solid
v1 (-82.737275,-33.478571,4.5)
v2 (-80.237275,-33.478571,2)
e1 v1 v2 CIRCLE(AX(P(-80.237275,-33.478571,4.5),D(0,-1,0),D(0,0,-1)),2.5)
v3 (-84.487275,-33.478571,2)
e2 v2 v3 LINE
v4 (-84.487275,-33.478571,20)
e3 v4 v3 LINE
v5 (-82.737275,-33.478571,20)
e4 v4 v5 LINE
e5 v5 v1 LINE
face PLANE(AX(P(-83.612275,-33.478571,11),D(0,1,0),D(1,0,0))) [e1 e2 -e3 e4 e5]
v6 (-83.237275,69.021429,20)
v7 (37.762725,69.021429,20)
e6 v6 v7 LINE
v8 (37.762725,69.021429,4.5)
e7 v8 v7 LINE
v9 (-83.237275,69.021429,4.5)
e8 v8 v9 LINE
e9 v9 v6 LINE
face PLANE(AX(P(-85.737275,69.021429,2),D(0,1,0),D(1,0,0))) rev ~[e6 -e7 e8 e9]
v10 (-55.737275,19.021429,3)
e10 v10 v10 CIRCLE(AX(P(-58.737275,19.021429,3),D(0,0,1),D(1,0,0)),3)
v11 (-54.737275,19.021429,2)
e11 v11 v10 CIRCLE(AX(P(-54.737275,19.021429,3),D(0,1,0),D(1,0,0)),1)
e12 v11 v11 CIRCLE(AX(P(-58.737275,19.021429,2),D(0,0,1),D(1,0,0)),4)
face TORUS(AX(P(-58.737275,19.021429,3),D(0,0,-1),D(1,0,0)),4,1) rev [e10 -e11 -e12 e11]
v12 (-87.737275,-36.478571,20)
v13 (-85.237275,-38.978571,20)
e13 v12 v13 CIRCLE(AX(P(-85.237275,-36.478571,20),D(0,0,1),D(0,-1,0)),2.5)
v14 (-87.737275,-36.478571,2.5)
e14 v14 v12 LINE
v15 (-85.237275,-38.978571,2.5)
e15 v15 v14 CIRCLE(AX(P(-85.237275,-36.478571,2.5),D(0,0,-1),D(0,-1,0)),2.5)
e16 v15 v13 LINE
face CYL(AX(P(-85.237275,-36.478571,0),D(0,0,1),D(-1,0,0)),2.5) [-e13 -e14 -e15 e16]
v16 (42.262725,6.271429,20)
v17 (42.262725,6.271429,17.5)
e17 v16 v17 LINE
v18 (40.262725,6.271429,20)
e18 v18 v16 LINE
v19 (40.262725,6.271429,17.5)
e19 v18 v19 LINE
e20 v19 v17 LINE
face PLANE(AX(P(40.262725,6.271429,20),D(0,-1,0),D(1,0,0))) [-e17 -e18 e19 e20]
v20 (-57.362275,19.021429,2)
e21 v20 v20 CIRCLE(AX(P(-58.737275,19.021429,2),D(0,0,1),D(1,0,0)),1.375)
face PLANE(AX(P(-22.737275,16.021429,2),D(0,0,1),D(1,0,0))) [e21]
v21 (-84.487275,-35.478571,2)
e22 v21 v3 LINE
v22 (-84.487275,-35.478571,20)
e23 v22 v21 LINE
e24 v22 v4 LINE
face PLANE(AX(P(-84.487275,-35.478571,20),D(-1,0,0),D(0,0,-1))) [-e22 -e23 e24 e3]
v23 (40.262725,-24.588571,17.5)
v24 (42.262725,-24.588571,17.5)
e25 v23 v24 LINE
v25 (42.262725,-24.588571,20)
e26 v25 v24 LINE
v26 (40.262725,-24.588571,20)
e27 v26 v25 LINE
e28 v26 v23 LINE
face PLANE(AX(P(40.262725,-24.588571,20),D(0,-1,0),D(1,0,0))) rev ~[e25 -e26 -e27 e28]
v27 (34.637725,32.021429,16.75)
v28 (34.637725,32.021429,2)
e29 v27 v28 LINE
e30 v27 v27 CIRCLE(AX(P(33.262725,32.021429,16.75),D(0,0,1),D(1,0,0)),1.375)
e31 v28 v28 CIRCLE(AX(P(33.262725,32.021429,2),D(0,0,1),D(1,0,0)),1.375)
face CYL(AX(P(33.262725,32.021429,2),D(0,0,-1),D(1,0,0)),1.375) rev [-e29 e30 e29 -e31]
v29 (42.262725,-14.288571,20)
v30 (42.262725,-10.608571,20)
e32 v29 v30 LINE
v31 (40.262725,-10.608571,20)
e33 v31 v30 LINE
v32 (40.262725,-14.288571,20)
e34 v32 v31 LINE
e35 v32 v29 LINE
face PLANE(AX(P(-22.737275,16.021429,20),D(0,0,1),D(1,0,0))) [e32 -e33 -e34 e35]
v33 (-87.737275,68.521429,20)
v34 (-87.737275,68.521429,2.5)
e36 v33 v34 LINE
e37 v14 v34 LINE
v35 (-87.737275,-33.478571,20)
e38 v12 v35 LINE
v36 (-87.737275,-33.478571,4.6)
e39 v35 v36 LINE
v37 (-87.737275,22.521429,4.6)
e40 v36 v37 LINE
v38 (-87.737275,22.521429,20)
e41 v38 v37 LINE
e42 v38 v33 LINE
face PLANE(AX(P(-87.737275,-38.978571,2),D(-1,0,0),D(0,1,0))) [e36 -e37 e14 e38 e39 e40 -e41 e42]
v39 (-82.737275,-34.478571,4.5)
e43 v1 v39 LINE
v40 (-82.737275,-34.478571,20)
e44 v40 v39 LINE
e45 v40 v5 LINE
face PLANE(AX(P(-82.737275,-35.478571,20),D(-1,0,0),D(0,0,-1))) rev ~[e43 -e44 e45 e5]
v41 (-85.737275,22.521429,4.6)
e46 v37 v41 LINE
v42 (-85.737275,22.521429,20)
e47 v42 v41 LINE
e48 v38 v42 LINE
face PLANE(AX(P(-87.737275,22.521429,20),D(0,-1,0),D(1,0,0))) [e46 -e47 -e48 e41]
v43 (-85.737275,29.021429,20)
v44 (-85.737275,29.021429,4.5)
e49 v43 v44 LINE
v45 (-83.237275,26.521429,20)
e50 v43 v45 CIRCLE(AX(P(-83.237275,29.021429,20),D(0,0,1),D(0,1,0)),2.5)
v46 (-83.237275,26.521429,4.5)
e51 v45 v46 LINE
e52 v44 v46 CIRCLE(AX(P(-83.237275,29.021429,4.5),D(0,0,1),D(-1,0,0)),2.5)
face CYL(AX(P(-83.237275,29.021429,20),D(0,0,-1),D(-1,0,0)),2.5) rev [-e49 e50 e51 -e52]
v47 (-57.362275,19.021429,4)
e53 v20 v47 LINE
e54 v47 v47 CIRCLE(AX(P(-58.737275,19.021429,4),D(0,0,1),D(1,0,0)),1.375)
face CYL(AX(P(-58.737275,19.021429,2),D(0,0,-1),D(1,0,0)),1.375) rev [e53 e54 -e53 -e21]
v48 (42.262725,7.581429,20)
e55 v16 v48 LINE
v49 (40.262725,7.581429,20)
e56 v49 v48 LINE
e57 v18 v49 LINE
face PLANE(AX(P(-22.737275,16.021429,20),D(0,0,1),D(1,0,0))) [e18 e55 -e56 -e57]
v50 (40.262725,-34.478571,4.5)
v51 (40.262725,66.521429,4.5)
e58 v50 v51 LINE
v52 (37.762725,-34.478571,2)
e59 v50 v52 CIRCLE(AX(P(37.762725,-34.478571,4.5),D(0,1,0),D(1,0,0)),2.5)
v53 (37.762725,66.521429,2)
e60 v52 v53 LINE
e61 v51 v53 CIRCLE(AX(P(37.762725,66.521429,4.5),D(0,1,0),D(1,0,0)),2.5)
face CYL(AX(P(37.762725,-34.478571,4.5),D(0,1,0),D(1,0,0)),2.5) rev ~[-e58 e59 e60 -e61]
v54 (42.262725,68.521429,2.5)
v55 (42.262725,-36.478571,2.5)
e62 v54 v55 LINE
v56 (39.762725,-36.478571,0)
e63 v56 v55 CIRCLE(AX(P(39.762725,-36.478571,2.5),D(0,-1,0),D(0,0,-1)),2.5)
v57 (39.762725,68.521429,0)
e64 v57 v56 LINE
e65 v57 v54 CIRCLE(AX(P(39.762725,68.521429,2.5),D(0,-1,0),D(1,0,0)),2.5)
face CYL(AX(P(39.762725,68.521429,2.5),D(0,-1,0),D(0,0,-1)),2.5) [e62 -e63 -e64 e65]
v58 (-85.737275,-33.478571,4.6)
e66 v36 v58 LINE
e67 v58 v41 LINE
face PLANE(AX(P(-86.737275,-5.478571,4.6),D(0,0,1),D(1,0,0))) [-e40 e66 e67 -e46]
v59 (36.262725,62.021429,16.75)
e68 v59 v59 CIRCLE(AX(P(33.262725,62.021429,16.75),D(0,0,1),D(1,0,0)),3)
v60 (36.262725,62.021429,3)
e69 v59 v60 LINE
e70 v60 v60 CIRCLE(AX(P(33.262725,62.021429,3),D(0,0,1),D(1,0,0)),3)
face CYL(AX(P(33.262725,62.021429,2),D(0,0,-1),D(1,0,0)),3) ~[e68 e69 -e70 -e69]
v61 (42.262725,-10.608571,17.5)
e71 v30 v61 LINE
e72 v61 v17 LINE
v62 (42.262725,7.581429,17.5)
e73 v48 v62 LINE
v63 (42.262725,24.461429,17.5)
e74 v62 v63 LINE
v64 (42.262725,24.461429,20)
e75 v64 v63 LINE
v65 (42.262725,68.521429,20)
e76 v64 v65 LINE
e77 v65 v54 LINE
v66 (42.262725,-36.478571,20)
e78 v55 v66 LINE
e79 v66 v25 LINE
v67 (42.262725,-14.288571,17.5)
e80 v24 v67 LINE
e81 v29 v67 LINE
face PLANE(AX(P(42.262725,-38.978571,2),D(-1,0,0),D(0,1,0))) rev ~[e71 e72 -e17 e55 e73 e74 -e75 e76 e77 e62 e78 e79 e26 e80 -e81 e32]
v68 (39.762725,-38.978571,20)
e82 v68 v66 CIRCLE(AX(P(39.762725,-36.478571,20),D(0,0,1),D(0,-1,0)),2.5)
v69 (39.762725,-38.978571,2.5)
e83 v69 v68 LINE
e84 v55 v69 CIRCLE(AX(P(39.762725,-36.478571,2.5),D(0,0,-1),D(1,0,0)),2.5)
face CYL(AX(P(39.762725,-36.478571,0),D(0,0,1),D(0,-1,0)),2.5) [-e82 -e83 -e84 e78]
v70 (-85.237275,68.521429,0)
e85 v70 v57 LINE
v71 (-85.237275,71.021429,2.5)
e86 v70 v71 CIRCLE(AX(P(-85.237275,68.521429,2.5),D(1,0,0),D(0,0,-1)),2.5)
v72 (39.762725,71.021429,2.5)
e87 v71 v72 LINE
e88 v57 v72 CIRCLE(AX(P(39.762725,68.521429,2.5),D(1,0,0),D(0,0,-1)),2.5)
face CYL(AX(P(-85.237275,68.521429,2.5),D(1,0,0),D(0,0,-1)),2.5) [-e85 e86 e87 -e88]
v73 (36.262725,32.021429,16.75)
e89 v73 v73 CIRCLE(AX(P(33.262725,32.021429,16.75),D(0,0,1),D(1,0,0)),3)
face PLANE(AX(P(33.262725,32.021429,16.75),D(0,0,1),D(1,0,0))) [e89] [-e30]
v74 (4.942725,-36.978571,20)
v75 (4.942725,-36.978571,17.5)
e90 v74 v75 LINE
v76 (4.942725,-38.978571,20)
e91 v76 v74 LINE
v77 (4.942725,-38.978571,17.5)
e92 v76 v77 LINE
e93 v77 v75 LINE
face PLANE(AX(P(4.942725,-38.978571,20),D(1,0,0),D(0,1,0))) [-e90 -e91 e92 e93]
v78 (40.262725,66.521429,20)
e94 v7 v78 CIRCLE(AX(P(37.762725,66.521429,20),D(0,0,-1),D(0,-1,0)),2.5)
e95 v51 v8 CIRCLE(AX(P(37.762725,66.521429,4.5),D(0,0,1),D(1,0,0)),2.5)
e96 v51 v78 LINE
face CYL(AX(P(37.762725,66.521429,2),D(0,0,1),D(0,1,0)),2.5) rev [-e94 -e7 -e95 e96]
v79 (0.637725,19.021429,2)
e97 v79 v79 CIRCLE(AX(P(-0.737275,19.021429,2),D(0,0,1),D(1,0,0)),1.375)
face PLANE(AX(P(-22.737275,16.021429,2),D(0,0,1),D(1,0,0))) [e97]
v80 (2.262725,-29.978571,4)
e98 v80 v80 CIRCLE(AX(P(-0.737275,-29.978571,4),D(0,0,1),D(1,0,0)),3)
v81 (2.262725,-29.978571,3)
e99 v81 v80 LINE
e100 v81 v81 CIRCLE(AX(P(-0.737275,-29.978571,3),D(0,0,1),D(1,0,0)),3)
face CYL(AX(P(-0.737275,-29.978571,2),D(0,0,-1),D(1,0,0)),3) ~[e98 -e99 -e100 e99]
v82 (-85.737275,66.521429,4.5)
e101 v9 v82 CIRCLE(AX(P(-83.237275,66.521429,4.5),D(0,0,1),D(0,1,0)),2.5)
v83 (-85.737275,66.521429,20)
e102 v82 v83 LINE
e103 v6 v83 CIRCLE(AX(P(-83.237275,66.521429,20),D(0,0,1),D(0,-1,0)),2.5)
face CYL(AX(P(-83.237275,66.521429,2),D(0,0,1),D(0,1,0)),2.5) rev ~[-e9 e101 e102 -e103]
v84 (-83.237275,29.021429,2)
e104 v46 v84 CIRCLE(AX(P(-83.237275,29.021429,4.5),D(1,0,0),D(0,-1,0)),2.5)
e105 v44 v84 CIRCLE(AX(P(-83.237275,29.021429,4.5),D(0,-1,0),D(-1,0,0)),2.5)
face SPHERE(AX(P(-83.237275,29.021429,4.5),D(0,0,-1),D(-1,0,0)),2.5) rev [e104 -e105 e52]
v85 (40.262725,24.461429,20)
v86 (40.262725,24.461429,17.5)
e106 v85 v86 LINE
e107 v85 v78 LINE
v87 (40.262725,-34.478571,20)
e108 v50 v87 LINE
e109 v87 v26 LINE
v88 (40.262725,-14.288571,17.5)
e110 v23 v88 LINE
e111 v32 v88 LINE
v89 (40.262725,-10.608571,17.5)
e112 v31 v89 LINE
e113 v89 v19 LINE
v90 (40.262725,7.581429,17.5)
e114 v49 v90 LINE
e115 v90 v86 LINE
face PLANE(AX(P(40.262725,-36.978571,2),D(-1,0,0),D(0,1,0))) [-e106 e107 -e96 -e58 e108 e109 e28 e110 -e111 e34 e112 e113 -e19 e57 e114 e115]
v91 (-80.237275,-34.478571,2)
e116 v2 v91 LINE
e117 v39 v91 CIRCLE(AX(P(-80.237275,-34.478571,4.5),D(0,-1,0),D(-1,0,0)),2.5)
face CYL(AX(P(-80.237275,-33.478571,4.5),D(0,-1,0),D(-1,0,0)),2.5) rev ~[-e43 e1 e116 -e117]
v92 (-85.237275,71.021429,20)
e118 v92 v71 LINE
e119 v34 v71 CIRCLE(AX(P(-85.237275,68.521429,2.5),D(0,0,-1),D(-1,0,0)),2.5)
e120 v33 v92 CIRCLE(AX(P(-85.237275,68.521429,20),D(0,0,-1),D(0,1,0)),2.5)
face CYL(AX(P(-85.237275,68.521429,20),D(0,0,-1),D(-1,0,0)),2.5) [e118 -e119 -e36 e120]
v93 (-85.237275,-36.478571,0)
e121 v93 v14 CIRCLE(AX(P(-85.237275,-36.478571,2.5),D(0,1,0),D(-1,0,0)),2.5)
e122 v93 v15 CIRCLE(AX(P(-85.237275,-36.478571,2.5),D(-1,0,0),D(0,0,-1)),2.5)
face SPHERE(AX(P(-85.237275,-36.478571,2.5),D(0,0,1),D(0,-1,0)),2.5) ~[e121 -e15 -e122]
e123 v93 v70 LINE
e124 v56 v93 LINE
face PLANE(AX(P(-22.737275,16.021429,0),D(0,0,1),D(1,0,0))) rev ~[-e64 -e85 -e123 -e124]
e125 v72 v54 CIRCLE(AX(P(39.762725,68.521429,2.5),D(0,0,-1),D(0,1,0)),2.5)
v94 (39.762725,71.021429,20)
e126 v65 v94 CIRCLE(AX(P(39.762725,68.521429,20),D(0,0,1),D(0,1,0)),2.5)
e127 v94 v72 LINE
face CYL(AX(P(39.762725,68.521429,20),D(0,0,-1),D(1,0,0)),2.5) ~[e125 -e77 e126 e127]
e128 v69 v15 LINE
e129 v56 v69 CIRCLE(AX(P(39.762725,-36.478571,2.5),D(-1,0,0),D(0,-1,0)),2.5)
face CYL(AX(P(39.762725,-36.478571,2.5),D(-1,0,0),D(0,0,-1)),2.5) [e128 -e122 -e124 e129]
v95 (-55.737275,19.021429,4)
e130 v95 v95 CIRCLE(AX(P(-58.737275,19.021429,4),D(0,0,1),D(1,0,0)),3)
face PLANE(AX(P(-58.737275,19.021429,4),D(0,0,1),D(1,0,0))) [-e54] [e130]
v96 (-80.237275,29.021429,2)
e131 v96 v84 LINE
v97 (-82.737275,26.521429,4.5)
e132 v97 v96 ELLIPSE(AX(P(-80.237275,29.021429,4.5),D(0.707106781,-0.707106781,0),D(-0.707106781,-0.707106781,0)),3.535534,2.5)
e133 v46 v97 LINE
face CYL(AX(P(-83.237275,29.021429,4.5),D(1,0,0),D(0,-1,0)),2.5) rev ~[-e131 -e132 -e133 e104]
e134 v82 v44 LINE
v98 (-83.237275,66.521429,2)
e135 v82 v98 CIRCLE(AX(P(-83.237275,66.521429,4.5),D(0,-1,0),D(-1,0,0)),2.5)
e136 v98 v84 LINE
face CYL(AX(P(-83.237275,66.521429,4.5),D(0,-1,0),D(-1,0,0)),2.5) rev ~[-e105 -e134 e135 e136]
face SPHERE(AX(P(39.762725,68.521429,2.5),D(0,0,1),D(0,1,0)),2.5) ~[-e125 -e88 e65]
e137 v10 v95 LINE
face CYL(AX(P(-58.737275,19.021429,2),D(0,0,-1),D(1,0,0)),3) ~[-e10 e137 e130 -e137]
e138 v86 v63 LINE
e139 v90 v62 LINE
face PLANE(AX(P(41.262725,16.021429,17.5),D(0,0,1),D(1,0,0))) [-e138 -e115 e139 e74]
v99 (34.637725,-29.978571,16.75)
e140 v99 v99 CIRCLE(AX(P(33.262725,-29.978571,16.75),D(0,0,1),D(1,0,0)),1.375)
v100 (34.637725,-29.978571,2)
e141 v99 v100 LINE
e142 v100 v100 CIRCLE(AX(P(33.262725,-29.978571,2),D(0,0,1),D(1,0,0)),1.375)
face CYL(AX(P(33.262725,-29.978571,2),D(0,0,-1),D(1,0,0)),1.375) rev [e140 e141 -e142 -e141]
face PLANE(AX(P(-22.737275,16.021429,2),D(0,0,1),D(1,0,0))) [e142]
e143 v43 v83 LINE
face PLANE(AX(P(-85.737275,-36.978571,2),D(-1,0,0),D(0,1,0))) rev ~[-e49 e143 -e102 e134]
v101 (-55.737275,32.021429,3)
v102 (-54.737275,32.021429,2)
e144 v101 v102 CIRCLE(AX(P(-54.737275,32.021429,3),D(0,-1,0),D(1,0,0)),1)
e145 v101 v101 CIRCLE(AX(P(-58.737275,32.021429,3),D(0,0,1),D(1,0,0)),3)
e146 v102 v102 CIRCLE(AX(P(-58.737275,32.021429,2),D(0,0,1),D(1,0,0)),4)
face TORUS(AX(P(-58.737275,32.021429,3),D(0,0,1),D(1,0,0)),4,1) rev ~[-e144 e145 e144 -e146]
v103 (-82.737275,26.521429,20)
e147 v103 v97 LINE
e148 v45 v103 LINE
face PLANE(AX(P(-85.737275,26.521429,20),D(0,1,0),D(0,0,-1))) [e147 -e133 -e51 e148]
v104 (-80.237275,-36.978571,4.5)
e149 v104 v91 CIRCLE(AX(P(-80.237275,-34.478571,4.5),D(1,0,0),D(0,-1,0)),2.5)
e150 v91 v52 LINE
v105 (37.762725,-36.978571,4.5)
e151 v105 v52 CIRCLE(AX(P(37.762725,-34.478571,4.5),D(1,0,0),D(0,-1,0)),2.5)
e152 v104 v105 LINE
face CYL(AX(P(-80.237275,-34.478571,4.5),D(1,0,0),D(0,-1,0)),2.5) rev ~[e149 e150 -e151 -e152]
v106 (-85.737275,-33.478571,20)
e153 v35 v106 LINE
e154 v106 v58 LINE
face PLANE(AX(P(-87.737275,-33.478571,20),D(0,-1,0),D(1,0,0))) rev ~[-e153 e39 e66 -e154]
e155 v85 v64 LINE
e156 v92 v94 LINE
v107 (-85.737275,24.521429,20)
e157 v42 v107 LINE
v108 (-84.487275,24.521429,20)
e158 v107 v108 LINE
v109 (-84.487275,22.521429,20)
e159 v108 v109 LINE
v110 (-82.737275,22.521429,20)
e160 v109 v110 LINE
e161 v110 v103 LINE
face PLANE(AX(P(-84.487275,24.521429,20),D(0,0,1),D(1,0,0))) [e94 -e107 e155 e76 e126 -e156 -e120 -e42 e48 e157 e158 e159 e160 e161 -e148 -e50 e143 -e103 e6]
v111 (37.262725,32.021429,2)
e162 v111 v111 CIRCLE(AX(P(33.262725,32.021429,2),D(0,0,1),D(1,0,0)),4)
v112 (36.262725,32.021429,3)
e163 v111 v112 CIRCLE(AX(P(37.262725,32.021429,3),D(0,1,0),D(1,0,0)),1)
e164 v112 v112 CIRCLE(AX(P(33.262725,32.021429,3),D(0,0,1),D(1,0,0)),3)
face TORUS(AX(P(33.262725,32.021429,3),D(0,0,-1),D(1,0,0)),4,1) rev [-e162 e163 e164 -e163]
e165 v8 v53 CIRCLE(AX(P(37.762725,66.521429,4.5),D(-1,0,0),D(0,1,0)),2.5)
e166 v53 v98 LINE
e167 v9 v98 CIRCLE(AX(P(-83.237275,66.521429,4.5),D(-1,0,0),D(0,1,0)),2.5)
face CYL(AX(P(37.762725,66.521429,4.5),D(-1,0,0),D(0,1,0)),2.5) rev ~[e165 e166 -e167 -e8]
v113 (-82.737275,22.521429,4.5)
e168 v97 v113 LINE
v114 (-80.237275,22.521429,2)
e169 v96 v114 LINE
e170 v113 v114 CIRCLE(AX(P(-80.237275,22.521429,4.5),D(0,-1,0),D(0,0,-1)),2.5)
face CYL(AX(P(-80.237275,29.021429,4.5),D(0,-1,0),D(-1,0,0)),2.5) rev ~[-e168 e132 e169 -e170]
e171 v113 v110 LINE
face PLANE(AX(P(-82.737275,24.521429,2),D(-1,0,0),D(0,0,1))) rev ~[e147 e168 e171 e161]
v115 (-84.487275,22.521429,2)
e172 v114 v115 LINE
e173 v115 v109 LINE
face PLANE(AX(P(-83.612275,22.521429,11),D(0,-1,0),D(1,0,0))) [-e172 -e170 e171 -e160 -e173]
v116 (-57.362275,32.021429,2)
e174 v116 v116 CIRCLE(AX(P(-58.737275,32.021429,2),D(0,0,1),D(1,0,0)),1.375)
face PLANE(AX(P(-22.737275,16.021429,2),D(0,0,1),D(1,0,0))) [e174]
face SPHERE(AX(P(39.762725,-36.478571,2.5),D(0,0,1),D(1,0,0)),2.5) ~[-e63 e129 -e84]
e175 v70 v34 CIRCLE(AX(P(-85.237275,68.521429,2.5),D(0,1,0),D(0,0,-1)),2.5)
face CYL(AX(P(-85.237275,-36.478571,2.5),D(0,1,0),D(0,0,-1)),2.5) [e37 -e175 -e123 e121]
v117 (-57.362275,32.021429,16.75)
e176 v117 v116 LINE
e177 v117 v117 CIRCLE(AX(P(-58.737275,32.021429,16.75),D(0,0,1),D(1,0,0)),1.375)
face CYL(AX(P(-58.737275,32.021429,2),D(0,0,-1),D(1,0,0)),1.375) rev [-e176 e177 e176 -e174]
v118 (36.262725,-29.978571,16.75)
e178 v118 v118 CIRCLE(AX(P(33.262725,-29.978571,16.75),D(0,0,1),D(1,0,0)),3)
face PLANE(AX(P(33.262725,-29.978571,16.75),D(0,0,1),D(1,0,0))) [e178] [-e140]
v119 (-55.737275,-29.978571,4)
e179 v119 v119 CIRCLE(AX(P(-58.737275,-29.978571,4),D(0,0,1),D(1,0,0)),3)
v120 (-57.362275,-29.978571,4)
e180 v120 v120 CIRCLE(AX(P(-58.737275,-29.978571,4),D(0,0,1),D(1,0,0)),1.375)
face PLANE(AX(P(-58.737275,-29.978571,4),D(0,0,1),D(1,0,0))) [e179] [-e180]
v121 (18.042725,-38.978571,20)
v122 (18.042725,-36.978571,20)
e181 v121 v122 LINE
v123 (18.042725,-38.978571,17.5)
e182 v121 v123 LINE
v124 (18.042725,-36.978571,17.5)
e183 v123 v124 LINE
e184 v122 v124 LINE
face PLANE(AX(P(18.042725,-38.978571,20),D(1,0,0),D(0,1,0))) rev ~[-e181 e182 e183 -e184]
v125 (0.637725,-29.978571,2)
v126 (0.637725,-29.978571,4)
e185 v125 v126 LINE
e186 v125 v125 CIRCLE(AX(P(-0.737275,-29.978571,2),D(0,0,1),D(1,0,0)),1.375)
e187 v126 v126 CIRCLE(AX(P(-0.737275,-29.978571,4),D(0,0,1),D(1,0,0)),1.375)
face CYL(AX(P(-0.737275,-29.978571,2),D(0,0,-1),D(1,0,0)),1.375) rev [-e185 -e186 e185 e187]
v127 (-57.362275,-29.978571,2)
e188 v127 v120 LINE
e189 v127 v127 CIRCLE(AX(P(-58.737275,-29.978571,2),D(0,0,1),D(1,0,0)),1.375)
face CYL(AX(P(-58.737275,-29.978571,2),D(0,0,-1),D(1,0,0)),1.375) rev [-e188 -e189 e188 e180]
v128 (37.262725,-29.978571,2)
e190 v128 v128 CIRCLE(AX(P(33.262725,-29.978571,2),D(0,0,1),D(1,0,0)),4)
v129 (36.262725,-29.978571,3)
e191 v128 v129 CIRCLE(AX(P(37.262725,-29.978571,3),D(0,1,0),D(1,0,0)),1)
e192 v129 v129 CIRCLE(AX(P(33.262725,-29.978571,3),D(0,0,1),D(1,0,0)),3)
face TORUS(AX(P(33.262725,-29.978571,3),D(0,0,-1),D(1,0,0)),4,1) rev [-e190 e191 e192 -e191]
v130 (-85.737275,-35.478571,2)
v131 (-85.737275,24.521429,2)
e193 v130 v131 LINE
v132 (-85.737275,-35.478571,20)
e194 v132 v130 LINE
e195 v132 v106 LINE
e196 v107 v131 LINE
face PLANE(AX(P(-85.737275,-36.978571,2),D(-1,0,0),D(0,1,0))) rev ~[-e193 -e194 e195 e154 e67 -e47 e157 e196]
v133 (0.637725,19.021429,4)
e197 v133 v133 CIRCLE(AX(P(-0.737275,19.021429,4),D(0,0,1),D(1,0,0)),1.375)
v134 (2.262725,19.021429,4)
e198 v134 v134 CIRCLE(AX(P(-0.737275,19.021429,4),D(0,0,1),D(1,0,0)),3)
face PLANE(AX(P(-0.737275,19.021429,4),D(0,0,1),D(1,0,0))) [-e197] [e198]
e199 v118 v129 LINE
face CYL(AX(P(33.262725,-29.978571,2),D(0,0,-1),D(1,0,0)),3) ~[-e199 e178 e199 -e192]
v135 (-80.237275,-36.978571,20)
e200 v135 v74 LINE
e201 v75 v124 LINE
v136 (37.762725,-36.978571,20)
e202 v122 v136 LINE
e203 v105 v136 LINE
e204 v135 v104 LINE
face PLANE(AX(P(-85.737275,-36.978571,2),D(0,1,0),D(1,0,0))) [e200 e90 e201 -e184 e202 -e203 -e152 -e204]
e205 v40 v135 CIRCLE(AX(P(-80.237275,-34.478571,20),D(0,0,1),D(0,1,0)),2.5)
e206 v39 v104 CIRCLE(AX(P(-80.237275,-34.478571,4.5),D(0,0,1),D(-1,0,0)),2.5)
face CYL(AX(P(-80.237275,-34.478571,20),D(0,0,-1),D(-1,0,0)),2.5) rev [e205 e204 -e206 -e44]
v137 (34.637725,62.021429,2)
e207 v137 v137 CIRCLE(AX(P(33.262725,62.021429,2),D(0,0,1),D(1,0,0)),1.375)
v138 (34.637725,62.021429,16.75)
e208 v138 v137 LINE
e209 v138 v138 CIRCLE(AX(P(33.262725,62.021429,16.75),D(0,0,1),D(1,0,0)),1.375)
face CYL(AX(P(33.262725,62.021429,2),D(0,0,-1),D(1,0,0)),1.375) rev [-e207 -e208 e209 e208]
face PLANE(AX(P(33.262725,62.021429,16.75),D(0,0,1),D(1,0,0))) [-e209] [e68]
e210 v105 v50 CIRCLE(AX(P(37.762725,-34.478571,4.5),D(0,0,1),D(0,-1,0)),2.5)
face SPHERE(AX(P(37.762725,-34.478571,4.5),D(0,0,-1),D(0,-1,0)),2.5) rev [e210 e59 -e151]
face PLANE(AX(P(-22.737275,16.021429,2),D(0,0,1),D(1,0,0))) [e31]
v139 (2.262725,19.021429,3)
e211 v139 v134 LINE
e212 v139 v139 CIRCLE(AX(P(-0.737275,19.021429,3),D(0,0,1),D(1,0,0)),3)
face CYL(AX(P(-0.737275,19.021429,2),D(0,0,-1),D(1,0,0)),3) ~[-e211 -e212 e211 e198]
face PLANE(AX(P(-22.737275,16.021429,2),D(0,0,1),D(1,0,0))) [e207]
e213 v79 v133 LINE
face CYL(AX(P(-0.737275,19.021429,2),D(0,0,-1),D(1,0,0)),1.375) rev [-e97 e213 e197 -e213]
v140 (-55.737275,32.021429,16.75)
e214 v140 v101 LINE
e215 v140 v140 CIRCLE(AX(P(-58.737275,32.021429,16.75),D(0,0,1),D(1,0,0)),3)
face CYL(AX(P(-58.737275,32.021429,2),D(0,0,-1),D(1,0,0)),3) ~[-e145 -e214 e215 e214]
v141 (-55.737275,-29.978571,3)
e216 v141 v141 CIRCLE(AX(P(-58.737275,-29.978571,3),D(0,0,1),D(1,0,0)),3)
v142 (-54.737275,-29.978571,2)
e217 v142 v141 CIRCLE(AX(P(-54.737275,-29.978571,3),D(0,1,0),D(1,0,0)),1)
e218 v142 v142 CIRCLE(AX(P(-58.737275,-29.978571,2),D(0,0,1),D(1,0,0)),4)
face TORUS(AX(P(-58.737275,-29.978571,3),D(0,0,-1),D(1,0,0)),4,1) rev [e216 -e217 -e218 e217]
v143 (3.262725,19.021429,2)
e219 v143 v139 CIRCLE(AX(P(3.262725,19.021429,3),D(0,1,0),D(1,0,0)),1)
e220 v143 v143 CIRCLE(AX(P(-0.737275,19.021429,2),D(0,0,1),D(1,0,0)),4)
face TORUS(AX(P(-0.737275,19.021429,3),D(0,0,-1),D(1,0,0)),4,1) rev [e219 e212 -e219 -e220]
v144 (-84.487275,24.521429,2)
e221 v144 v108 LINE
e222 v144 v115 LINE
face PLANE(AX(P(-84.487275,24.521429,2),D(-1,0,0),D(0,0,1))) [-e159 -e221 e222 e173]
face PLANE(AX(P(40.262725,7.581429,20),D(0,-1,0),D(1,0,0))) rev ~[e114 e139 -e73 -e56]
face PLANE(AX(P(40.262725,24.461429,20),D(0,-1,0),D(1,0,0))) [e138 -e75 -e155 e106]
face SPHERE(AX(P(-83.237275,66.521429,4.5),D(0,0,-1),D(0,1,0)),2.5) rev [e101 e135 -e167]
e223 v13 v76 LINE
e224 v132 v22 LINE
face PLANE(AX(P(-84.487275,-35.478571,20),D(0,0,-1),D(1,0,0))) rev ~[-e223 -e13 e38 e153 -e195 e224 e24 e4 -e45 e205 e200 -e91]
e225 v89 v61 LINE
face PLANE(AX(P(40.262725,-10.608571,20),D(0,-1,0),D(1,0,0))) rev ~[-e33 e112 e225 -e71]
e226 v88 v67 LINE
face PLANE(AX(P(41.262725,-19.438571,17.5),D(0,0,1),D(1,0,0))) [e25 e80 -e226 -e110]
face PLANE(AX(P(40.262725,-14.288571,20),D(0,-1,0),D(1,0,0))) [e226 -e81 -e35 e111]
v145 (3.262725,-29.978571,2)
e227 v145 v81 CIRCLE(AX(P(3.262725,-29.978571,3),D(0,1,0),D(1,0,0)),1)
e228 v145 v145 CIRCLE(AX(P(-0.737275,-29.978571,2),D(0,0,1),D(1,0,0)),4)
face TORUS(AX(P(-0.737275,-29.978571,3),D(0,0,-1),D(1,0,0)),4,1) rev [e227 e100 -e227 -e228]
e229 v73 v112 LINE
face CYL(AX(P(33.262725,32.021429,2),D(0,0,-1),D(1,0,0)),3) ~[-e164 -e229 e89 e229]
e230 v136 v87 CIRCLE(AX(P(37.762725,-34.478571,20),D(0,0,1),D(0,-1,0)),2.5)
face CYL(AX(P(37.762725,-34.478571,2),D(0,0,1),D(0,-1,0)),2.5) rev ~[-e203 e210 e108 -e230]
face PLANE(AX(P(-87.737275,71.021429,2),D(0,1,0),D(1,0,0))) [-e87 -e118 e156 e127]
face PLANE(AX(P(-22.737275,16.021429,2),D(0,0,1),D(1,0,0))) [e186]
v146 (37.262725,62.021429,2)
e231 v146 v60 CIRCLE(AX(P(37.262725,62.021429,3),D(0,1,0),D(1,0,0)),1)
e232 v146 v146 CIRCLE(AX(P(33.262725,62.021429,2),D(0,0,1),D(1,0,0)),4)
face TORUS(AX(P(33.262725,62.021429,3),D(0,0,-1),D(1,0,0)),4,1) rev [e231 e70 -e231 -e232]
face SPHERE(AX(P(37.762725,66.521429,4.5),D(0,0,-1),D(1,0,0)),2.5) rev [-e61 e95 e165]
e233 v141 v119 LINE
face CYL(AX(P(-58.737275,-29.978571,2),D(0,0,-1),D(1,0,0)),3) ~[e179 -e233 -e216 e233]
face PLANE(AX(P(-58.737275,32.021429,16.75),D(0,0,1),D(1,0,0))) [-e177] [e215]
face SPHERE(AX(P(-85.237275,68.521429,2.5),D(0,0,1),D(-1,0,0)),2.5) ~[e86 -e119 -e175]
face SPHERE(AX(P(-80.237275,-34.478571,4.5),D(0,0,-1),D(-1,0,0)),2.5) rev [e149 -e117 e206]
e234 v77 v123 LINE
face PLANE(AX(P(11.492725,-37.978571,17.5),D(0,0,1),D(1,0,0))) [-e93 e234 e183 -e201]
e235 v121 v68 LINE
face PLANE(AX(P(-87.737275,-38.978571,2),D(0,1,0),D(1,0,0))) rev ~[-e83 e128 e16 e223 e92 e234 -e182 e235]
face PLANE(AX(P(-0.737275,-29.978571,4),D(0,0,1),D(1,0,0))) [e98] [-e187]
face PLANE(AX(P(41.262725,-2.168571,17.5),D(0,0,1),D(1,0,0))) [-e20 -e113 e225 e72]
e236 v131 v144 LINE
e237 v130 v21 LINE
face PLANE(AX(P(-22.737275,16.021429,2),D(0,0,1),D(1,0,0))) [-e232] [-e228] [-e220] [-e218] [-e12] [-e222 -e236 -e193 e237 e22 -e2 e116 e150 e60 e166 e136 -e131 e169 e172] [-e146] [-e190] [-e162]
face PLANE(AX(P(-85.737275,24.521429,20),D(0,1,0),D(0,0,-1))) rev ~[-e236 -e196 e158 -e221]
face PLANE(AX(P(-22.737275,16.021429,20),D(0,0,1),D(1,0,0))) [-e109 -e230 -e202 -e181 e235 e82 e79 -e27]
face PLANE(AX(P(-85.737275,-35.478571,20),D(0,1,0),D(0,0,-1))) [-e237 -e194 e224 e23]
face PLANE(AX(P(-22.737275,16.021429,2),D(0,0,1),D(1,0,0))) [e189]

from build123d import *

# Parameters (mm, degrees)
ESQUISSE1_W             = 130
ESQUISSE1_H             = 110
BOSS_EXTRU_1_DEPTH      = 2
ESQUISSE3_R             = 3
ESQUISSE3_R_2           = 1.375
BOSS_EXTRU_2_DEPTH      = 2
ESQUISSE4_R             = 3
ESQUISSE4_R_2           = 1.375
BOSS_EXTRU_3_DEPTH      = 14.75
CONG_1_R                = 1
ESQUISSE5_W             = 130
ESQUISSE5_H             = 110
ESQUISSE5_W_2           = 126
ESQUISSE5_H_2           = 106
BOSS_EXTRU_5_DEPTH      = 18
CONG_3_R                = 2.5
ESQUISSE6_W             = 2
ESQUISSE6_H             = 10.3
ESQUISSE6_H_2           = 16.88
ESQUISSE6_W_2           = 13.1
ESQUISSE6_H_3           = 2
ENL_V_MAT_EXTRU_1_DEPTH = 2.5
ESQUISSE7_W             = 2
ESQUISSE7_H             = 56
ENL_V_MAT_EXTRU_2_DEPTH = 15.4
CONG_5_R                = 2.5
ESQUISSE9_W             = 18
ESQUISSE9_H             = 2
ESQUISSE9_H_2           = 1.5
BOSS_EXTRU_6_DEPTH      = 3
ESQUISSE11_W            = 1.75
ESQUISSE11_H            = 18
BOSS_EXTRU_7_DEPTH      = 2
ESQUISSE12_W            = 1.75
ESQUISSE12_H            = 18
BOSS_EXTRU_8_DEPTH      = 2
CONG_7_R                = 2.5
CONG_8_R                = 2.5
CONG_9_R                = 2.5


with BuildPart() as part:
    # Esquisse1 → Boss.-Extru.1 (new body)
    with BuildSketch(Plane.XY):
        with Locations((-22.737274581, 16.021428571)):
            Rectangle(ESQUISSE1_W, ESQUISSE1_H)
    extrude(amount=BOSS_EXTRU_1_DEPTH)

    # Esquisse3 → Boss.-Extru.2 (add)
    # profile 1 of 8: a face of its own
    with BuildSketch(Plane.XY.offset(2)):
        with Locations((-58.737274581, -29.978571429)):
            Circle(ESQUISSE3_R)
        with Locations((-58.737274581, -29.978571429)):
            Circle(ESQUISSE3_R_2, mode=Mode.SUBTRACT)
    # profile 2 of 8: a face of its own
    with BuildSketch(Plane.XY.offset(2)):
        with Locations((-0.737274581, -29.978571429)):
            Circle(ESQUISSE3_R)
        with Locations((-0.737274581, -29.978571429)):
            Circle(ESQUISSE3_R_2, mode=Mode.SUBTRACT)
    # profile 3 of 8: a face of its own
    with BuildSketch(Plane.XY.offset(2)):
        with Locations((33.262725419, -29.978571429)):
            Circle(ESQUISSE3_R)
        with Locations((33.262725419, -29.978571429)):
            Circle(ESQUISSE3_R_2, mode=Mode.SUBTRACT)
    # profile 4 of 8: a face of its own
    with BuildSketch(Plane.XY.offset(2)):
        with Locations((-0.737274581, 19.021428571)):
            Circle(ESQUISSE3_R)
        with Locations((-0.737274581, 19.021428571)):
            Circle(ESQUISSE3_R_2, mode=Mode.SUBTRACT)
    # profile 5 of 8: a face of its own
    with BuildSketch(Plane.XY.offset(2)):
        with Locations((33.262725419, 32.021428571)):
            Circle(ESQUISSE3_R)
        with Locations((33.262725419, 32.021428571)):
            Circle(ESQUISSE3_R_2, mode=Mode.SUBTRACT)
    # profile 6 of 8: a face of its own
    with BuildSketch(Plane.XY.offset(2)):
        with Locations((-58.737274581, 32.021428571)):
            Circle(ESQUISSE3_R)
        with Locations((-58.737274581, 32.021428571)):
            Circle(ESQUISSE3_R_2, mode=Mode.SUBTRACT)
    # profile 7 of 8: a face of its own
    with BuildSketch(Plane.XY.offset(2)):
        with Locations((-58.737274581, 19.021428571)):
            Circle(ESQUISSE3_R)
        with Locations((-58.737274581, 19.021428571)):
            Circle(ESQUISSE3_R_2, mode=Mode.SUBTRACT)
    # profile 8 of 8: a face of its own
    with BuildSketch(Plane.XY.offset(2)):
        with Locations((33.262725419, 62.021428571)):
            Circle(ESQUISSE3_R)
        with Locations((33.262725419, 62.021428571)):
            Circle(ESQUISSE3_R_2, mode=Mode.SUBTRACT)
    extrude(amount=BOSS_EXTRU_2_DEPTH)

    # Esquisse4 → Boss.-Extru.3 (add)
    # profile 1 of 4: a face of its own
    with BuildSketch(Plane.XY.offset(2)):
        with Locations((-58.737274581, 32.021428571)):
            Circle(ESQUISSE4_R)
        with Locations((-58.737274581, 32.021428571)):
            Circle(ESQUISSE4_R_2, mode=Mode.SUBTRACT)
    # profile 2 of 4: a face of its own
    with BuildSketch(Plane.XY.offset(2)):
        with Locations((33.262725419, 62.021428571)):
            Circle(ESQUISSE4_R)
        with Locations((33.262725419, 62.021428571)):
            Circle(ESQUISSE4_R_2, mode=Mode.SUBTRACT)
    # profile 3 of 4: a face of its own
    with BuildSketch(Plane.XY.offset(2)):
        with Locations((33.262725419, 32.021428571)):
            Circle(ESQUISSE4_R)
        with Locations((33.262725419, 32.021428571)):
            Circle(ESQUISSE4_R_2, mode=Mode.SUBTRACT)
    # profile 4 of 4: a face of its own
    with BuildSketch(Plane.XY.offset(2)):
        with Locations((33.262725419, -29.978571429)):
            Circle(ESQUISSE4_R)
        with Locations((33.262725419, -29.978571429)):
            Circle(ESQUISSE4_R_2, mode=Mode.SUBTRACT)
    extrude(amount=BOSS_EXTRU_3_DEPTH)

    # Congé1
    cong_1_edges = [part.edges().sort_by_distance(p)[0] for p in [
        (-61.737274581, -29.978571429, 2),
        (-3.737274581, -29.978571429, 2),
        (30.262725419, -29.978571429, 2),
        (-3.737274581, 19.021428571, 2),
        (30.262725419, 32.021428571, 2),
        (-61.737274581, 32.021428571, 2),
        (-61.737274581, 19.021428571, 2),
        (30.262725419, 62.021428571, 2),
    ]]
    fillet(cong_1_edges, radius=CONG_1_R)

    # Esquisse5 → Boss.-Extru.5 (add)
    with BuildSketch(Plane.XY.offset(2)):
        with Locations((-22.737274581, 16.021428571)):
            Rectangle(ESQUISSE5_W, ESQUISSE5_H)
        with Locations((-22.737274581, 16.021428571)):
            Rectangle(ESQUISSE5_W_2, ESQUISSE5_H_2, mode=Mode.SUBTRACT)
    extrude(amount=BOSS_EXTRU_5_DEPTH)

    # Congé3
    cong_3_edges = [part.edges().sort_by_distance(p)[0] for p in [
        (-87.737274581, 71.021428571, 10),
        (42.262725419, 71.021428571, 10),
        (42.262725419, -38.978571429, 10),
        (-87.737274581, -38.978571429, 10),
    ]]
    fillet(cong_3_edges, radius=CONG_3_R)

    # Esquisse6 → Enlèv. mat.-Extru.1 (cut)
    with BuildSketch(Plane.XY.offset(20)):
        with Locations((41.262725419, -19.438571429)):
            Rectangle(ESQUISSE6_W, ESQUISSE6_H)
        with Locations((41.262725419, -2.168571429)):
            Rectangle(ESQUISSE6_W, ESQUISSE6_H_2)
        with Locations((41.262725419, 16.021428571)):
            Rectangle(ESQUISSE6_W, ESQUISSE6_H_2)
        with Locations((11.492725419, -37.978571429)):
            Rectangle(ESQUISSE6_W_2, ESQUISSE6_H_3)
    extrude(amount=-ENL_V_MAT_EXTRU_1_DEPTH, mode=Mode.SUBTRACT)

    # Esquisse7 → Enlèv. mat.-Extru.2 (cut)
    with BuildSketch(Plane.XY.offset(20)):
        with Locations((-86.737274581, -5.478571429)):
            Rectangle(ESQUISSE7_W, ESQUISSE7_H)
    extrude(amount=-ENL_V_MAT_EXTRU_2_DEPTH, mode=Mode.SUBTRACT)

    # Congé5
    cong_5_edges = [part.edges().sort_by_distance(p)[0] for p in [
        (-22.737274581, 71.021428571, 0),
        (-87.737274581, 16.021428571, 0),
        (42.262725419, 16.021428571, 0),
        (-22.737274581, -38.978571429, 0),
        (-87.005041533, 70.289195524, 0),
        (-87.005041533, -38.246338382, 0),
        (41.530492372, -38.246338382, 0),
        (41.530492372, 70.289195524, 0),
    ]]
    fillet(cong_5_edges, radius=CONG_5_R)

    # Esquisse9 → Boss.-Extru.6 (add)
    with BuildSketch(Plane(origin=(-85.737274581, 0, 0), x_dir=(0, 0, -1), z_dir=(1, 0, 0))):
        with Locations((-11, 25.521428571)):
            Rectangle(ESQUISSE9_W, ESQUISSE9_H)
        with Locations((-11, -36.228571429)):
            Rectangle(ESQUISSE9_W, ESQUISSE9_H_2)
    extrude(amount=BOSS_EXTRU_6_DEPTH)

    # Esquisse11 → Boss.-Extru.7 (add)
    with BuildSketch(Plane.XZ.offset(-24.521428571)):
        with Locations((-83.612274581, 11)):
            Rectangle(ESQUISSE11_W, ESQUISSE11_H)
    extrude(amount=BOSS_EXTRU_7_DEPTH)

    # Esquisse12 → Boss.-Extru.8 (add)
    with BuildSketch(Plane(origin=(0, -35.478571429, 0), x_dir=(1, 0, 0), z_dir=(0, 1, 0))):
        with Locations((-83.612274581, -11)):
            Rectangle(ESQUISSE12_W, ESQUISSE12_H)
    extrude(amount=BOSS_EXTRU_8_DEPTH)

    # Congé7
    cong_7_edges = [part.edges().sort_by_distance(p)[0] for p in [
        (40.262725419, -36.978571429, 11),
        (40.262725419, 69.021428571, 11),
        (-85.737274581, 69.021428571, 11),
        (-85.737274581, 26.521428571, 11),
        (-82.737274581, -36.978571429, 11),
    ]]
    fillet(cong_7_edges, radius=CONG_7_R)

    # Congé8
    cong_8_edges = [part.edges().sort_by_distance(p)[0] for p in [
        (-82.737274581, -33.978571429, 2),
        (-82.005041533, -36.246338382, 2),
        (-21.237274581, -36.978571429, 2),
        (39.530492372, -36.246338382, 2),
        (40.262725419, 16.021428571, 2),
        (39.530492372, 68.289195524, 2),
        (-22.737274581, 69.021428571, 2),
        (-85.005041533, 68.289195524, 2),
        (-82.987274581, 26.521428571, 2),
        (-85.005041533, 27.253661618, 2),
        (-85.737274581, 47.771428571, 2),
    ]]
    fillet(cong_8_edges, radius=CONG_8_R)

    # Congé9
    cong_9_edges = [part.edges().sort_by_distance(p)[0] for p in [
        (-82.737274581, 25.771428571, 2),
    ]]
    fillet(cong_9_edges, radius=CONG_9_R)


solid = part.part
